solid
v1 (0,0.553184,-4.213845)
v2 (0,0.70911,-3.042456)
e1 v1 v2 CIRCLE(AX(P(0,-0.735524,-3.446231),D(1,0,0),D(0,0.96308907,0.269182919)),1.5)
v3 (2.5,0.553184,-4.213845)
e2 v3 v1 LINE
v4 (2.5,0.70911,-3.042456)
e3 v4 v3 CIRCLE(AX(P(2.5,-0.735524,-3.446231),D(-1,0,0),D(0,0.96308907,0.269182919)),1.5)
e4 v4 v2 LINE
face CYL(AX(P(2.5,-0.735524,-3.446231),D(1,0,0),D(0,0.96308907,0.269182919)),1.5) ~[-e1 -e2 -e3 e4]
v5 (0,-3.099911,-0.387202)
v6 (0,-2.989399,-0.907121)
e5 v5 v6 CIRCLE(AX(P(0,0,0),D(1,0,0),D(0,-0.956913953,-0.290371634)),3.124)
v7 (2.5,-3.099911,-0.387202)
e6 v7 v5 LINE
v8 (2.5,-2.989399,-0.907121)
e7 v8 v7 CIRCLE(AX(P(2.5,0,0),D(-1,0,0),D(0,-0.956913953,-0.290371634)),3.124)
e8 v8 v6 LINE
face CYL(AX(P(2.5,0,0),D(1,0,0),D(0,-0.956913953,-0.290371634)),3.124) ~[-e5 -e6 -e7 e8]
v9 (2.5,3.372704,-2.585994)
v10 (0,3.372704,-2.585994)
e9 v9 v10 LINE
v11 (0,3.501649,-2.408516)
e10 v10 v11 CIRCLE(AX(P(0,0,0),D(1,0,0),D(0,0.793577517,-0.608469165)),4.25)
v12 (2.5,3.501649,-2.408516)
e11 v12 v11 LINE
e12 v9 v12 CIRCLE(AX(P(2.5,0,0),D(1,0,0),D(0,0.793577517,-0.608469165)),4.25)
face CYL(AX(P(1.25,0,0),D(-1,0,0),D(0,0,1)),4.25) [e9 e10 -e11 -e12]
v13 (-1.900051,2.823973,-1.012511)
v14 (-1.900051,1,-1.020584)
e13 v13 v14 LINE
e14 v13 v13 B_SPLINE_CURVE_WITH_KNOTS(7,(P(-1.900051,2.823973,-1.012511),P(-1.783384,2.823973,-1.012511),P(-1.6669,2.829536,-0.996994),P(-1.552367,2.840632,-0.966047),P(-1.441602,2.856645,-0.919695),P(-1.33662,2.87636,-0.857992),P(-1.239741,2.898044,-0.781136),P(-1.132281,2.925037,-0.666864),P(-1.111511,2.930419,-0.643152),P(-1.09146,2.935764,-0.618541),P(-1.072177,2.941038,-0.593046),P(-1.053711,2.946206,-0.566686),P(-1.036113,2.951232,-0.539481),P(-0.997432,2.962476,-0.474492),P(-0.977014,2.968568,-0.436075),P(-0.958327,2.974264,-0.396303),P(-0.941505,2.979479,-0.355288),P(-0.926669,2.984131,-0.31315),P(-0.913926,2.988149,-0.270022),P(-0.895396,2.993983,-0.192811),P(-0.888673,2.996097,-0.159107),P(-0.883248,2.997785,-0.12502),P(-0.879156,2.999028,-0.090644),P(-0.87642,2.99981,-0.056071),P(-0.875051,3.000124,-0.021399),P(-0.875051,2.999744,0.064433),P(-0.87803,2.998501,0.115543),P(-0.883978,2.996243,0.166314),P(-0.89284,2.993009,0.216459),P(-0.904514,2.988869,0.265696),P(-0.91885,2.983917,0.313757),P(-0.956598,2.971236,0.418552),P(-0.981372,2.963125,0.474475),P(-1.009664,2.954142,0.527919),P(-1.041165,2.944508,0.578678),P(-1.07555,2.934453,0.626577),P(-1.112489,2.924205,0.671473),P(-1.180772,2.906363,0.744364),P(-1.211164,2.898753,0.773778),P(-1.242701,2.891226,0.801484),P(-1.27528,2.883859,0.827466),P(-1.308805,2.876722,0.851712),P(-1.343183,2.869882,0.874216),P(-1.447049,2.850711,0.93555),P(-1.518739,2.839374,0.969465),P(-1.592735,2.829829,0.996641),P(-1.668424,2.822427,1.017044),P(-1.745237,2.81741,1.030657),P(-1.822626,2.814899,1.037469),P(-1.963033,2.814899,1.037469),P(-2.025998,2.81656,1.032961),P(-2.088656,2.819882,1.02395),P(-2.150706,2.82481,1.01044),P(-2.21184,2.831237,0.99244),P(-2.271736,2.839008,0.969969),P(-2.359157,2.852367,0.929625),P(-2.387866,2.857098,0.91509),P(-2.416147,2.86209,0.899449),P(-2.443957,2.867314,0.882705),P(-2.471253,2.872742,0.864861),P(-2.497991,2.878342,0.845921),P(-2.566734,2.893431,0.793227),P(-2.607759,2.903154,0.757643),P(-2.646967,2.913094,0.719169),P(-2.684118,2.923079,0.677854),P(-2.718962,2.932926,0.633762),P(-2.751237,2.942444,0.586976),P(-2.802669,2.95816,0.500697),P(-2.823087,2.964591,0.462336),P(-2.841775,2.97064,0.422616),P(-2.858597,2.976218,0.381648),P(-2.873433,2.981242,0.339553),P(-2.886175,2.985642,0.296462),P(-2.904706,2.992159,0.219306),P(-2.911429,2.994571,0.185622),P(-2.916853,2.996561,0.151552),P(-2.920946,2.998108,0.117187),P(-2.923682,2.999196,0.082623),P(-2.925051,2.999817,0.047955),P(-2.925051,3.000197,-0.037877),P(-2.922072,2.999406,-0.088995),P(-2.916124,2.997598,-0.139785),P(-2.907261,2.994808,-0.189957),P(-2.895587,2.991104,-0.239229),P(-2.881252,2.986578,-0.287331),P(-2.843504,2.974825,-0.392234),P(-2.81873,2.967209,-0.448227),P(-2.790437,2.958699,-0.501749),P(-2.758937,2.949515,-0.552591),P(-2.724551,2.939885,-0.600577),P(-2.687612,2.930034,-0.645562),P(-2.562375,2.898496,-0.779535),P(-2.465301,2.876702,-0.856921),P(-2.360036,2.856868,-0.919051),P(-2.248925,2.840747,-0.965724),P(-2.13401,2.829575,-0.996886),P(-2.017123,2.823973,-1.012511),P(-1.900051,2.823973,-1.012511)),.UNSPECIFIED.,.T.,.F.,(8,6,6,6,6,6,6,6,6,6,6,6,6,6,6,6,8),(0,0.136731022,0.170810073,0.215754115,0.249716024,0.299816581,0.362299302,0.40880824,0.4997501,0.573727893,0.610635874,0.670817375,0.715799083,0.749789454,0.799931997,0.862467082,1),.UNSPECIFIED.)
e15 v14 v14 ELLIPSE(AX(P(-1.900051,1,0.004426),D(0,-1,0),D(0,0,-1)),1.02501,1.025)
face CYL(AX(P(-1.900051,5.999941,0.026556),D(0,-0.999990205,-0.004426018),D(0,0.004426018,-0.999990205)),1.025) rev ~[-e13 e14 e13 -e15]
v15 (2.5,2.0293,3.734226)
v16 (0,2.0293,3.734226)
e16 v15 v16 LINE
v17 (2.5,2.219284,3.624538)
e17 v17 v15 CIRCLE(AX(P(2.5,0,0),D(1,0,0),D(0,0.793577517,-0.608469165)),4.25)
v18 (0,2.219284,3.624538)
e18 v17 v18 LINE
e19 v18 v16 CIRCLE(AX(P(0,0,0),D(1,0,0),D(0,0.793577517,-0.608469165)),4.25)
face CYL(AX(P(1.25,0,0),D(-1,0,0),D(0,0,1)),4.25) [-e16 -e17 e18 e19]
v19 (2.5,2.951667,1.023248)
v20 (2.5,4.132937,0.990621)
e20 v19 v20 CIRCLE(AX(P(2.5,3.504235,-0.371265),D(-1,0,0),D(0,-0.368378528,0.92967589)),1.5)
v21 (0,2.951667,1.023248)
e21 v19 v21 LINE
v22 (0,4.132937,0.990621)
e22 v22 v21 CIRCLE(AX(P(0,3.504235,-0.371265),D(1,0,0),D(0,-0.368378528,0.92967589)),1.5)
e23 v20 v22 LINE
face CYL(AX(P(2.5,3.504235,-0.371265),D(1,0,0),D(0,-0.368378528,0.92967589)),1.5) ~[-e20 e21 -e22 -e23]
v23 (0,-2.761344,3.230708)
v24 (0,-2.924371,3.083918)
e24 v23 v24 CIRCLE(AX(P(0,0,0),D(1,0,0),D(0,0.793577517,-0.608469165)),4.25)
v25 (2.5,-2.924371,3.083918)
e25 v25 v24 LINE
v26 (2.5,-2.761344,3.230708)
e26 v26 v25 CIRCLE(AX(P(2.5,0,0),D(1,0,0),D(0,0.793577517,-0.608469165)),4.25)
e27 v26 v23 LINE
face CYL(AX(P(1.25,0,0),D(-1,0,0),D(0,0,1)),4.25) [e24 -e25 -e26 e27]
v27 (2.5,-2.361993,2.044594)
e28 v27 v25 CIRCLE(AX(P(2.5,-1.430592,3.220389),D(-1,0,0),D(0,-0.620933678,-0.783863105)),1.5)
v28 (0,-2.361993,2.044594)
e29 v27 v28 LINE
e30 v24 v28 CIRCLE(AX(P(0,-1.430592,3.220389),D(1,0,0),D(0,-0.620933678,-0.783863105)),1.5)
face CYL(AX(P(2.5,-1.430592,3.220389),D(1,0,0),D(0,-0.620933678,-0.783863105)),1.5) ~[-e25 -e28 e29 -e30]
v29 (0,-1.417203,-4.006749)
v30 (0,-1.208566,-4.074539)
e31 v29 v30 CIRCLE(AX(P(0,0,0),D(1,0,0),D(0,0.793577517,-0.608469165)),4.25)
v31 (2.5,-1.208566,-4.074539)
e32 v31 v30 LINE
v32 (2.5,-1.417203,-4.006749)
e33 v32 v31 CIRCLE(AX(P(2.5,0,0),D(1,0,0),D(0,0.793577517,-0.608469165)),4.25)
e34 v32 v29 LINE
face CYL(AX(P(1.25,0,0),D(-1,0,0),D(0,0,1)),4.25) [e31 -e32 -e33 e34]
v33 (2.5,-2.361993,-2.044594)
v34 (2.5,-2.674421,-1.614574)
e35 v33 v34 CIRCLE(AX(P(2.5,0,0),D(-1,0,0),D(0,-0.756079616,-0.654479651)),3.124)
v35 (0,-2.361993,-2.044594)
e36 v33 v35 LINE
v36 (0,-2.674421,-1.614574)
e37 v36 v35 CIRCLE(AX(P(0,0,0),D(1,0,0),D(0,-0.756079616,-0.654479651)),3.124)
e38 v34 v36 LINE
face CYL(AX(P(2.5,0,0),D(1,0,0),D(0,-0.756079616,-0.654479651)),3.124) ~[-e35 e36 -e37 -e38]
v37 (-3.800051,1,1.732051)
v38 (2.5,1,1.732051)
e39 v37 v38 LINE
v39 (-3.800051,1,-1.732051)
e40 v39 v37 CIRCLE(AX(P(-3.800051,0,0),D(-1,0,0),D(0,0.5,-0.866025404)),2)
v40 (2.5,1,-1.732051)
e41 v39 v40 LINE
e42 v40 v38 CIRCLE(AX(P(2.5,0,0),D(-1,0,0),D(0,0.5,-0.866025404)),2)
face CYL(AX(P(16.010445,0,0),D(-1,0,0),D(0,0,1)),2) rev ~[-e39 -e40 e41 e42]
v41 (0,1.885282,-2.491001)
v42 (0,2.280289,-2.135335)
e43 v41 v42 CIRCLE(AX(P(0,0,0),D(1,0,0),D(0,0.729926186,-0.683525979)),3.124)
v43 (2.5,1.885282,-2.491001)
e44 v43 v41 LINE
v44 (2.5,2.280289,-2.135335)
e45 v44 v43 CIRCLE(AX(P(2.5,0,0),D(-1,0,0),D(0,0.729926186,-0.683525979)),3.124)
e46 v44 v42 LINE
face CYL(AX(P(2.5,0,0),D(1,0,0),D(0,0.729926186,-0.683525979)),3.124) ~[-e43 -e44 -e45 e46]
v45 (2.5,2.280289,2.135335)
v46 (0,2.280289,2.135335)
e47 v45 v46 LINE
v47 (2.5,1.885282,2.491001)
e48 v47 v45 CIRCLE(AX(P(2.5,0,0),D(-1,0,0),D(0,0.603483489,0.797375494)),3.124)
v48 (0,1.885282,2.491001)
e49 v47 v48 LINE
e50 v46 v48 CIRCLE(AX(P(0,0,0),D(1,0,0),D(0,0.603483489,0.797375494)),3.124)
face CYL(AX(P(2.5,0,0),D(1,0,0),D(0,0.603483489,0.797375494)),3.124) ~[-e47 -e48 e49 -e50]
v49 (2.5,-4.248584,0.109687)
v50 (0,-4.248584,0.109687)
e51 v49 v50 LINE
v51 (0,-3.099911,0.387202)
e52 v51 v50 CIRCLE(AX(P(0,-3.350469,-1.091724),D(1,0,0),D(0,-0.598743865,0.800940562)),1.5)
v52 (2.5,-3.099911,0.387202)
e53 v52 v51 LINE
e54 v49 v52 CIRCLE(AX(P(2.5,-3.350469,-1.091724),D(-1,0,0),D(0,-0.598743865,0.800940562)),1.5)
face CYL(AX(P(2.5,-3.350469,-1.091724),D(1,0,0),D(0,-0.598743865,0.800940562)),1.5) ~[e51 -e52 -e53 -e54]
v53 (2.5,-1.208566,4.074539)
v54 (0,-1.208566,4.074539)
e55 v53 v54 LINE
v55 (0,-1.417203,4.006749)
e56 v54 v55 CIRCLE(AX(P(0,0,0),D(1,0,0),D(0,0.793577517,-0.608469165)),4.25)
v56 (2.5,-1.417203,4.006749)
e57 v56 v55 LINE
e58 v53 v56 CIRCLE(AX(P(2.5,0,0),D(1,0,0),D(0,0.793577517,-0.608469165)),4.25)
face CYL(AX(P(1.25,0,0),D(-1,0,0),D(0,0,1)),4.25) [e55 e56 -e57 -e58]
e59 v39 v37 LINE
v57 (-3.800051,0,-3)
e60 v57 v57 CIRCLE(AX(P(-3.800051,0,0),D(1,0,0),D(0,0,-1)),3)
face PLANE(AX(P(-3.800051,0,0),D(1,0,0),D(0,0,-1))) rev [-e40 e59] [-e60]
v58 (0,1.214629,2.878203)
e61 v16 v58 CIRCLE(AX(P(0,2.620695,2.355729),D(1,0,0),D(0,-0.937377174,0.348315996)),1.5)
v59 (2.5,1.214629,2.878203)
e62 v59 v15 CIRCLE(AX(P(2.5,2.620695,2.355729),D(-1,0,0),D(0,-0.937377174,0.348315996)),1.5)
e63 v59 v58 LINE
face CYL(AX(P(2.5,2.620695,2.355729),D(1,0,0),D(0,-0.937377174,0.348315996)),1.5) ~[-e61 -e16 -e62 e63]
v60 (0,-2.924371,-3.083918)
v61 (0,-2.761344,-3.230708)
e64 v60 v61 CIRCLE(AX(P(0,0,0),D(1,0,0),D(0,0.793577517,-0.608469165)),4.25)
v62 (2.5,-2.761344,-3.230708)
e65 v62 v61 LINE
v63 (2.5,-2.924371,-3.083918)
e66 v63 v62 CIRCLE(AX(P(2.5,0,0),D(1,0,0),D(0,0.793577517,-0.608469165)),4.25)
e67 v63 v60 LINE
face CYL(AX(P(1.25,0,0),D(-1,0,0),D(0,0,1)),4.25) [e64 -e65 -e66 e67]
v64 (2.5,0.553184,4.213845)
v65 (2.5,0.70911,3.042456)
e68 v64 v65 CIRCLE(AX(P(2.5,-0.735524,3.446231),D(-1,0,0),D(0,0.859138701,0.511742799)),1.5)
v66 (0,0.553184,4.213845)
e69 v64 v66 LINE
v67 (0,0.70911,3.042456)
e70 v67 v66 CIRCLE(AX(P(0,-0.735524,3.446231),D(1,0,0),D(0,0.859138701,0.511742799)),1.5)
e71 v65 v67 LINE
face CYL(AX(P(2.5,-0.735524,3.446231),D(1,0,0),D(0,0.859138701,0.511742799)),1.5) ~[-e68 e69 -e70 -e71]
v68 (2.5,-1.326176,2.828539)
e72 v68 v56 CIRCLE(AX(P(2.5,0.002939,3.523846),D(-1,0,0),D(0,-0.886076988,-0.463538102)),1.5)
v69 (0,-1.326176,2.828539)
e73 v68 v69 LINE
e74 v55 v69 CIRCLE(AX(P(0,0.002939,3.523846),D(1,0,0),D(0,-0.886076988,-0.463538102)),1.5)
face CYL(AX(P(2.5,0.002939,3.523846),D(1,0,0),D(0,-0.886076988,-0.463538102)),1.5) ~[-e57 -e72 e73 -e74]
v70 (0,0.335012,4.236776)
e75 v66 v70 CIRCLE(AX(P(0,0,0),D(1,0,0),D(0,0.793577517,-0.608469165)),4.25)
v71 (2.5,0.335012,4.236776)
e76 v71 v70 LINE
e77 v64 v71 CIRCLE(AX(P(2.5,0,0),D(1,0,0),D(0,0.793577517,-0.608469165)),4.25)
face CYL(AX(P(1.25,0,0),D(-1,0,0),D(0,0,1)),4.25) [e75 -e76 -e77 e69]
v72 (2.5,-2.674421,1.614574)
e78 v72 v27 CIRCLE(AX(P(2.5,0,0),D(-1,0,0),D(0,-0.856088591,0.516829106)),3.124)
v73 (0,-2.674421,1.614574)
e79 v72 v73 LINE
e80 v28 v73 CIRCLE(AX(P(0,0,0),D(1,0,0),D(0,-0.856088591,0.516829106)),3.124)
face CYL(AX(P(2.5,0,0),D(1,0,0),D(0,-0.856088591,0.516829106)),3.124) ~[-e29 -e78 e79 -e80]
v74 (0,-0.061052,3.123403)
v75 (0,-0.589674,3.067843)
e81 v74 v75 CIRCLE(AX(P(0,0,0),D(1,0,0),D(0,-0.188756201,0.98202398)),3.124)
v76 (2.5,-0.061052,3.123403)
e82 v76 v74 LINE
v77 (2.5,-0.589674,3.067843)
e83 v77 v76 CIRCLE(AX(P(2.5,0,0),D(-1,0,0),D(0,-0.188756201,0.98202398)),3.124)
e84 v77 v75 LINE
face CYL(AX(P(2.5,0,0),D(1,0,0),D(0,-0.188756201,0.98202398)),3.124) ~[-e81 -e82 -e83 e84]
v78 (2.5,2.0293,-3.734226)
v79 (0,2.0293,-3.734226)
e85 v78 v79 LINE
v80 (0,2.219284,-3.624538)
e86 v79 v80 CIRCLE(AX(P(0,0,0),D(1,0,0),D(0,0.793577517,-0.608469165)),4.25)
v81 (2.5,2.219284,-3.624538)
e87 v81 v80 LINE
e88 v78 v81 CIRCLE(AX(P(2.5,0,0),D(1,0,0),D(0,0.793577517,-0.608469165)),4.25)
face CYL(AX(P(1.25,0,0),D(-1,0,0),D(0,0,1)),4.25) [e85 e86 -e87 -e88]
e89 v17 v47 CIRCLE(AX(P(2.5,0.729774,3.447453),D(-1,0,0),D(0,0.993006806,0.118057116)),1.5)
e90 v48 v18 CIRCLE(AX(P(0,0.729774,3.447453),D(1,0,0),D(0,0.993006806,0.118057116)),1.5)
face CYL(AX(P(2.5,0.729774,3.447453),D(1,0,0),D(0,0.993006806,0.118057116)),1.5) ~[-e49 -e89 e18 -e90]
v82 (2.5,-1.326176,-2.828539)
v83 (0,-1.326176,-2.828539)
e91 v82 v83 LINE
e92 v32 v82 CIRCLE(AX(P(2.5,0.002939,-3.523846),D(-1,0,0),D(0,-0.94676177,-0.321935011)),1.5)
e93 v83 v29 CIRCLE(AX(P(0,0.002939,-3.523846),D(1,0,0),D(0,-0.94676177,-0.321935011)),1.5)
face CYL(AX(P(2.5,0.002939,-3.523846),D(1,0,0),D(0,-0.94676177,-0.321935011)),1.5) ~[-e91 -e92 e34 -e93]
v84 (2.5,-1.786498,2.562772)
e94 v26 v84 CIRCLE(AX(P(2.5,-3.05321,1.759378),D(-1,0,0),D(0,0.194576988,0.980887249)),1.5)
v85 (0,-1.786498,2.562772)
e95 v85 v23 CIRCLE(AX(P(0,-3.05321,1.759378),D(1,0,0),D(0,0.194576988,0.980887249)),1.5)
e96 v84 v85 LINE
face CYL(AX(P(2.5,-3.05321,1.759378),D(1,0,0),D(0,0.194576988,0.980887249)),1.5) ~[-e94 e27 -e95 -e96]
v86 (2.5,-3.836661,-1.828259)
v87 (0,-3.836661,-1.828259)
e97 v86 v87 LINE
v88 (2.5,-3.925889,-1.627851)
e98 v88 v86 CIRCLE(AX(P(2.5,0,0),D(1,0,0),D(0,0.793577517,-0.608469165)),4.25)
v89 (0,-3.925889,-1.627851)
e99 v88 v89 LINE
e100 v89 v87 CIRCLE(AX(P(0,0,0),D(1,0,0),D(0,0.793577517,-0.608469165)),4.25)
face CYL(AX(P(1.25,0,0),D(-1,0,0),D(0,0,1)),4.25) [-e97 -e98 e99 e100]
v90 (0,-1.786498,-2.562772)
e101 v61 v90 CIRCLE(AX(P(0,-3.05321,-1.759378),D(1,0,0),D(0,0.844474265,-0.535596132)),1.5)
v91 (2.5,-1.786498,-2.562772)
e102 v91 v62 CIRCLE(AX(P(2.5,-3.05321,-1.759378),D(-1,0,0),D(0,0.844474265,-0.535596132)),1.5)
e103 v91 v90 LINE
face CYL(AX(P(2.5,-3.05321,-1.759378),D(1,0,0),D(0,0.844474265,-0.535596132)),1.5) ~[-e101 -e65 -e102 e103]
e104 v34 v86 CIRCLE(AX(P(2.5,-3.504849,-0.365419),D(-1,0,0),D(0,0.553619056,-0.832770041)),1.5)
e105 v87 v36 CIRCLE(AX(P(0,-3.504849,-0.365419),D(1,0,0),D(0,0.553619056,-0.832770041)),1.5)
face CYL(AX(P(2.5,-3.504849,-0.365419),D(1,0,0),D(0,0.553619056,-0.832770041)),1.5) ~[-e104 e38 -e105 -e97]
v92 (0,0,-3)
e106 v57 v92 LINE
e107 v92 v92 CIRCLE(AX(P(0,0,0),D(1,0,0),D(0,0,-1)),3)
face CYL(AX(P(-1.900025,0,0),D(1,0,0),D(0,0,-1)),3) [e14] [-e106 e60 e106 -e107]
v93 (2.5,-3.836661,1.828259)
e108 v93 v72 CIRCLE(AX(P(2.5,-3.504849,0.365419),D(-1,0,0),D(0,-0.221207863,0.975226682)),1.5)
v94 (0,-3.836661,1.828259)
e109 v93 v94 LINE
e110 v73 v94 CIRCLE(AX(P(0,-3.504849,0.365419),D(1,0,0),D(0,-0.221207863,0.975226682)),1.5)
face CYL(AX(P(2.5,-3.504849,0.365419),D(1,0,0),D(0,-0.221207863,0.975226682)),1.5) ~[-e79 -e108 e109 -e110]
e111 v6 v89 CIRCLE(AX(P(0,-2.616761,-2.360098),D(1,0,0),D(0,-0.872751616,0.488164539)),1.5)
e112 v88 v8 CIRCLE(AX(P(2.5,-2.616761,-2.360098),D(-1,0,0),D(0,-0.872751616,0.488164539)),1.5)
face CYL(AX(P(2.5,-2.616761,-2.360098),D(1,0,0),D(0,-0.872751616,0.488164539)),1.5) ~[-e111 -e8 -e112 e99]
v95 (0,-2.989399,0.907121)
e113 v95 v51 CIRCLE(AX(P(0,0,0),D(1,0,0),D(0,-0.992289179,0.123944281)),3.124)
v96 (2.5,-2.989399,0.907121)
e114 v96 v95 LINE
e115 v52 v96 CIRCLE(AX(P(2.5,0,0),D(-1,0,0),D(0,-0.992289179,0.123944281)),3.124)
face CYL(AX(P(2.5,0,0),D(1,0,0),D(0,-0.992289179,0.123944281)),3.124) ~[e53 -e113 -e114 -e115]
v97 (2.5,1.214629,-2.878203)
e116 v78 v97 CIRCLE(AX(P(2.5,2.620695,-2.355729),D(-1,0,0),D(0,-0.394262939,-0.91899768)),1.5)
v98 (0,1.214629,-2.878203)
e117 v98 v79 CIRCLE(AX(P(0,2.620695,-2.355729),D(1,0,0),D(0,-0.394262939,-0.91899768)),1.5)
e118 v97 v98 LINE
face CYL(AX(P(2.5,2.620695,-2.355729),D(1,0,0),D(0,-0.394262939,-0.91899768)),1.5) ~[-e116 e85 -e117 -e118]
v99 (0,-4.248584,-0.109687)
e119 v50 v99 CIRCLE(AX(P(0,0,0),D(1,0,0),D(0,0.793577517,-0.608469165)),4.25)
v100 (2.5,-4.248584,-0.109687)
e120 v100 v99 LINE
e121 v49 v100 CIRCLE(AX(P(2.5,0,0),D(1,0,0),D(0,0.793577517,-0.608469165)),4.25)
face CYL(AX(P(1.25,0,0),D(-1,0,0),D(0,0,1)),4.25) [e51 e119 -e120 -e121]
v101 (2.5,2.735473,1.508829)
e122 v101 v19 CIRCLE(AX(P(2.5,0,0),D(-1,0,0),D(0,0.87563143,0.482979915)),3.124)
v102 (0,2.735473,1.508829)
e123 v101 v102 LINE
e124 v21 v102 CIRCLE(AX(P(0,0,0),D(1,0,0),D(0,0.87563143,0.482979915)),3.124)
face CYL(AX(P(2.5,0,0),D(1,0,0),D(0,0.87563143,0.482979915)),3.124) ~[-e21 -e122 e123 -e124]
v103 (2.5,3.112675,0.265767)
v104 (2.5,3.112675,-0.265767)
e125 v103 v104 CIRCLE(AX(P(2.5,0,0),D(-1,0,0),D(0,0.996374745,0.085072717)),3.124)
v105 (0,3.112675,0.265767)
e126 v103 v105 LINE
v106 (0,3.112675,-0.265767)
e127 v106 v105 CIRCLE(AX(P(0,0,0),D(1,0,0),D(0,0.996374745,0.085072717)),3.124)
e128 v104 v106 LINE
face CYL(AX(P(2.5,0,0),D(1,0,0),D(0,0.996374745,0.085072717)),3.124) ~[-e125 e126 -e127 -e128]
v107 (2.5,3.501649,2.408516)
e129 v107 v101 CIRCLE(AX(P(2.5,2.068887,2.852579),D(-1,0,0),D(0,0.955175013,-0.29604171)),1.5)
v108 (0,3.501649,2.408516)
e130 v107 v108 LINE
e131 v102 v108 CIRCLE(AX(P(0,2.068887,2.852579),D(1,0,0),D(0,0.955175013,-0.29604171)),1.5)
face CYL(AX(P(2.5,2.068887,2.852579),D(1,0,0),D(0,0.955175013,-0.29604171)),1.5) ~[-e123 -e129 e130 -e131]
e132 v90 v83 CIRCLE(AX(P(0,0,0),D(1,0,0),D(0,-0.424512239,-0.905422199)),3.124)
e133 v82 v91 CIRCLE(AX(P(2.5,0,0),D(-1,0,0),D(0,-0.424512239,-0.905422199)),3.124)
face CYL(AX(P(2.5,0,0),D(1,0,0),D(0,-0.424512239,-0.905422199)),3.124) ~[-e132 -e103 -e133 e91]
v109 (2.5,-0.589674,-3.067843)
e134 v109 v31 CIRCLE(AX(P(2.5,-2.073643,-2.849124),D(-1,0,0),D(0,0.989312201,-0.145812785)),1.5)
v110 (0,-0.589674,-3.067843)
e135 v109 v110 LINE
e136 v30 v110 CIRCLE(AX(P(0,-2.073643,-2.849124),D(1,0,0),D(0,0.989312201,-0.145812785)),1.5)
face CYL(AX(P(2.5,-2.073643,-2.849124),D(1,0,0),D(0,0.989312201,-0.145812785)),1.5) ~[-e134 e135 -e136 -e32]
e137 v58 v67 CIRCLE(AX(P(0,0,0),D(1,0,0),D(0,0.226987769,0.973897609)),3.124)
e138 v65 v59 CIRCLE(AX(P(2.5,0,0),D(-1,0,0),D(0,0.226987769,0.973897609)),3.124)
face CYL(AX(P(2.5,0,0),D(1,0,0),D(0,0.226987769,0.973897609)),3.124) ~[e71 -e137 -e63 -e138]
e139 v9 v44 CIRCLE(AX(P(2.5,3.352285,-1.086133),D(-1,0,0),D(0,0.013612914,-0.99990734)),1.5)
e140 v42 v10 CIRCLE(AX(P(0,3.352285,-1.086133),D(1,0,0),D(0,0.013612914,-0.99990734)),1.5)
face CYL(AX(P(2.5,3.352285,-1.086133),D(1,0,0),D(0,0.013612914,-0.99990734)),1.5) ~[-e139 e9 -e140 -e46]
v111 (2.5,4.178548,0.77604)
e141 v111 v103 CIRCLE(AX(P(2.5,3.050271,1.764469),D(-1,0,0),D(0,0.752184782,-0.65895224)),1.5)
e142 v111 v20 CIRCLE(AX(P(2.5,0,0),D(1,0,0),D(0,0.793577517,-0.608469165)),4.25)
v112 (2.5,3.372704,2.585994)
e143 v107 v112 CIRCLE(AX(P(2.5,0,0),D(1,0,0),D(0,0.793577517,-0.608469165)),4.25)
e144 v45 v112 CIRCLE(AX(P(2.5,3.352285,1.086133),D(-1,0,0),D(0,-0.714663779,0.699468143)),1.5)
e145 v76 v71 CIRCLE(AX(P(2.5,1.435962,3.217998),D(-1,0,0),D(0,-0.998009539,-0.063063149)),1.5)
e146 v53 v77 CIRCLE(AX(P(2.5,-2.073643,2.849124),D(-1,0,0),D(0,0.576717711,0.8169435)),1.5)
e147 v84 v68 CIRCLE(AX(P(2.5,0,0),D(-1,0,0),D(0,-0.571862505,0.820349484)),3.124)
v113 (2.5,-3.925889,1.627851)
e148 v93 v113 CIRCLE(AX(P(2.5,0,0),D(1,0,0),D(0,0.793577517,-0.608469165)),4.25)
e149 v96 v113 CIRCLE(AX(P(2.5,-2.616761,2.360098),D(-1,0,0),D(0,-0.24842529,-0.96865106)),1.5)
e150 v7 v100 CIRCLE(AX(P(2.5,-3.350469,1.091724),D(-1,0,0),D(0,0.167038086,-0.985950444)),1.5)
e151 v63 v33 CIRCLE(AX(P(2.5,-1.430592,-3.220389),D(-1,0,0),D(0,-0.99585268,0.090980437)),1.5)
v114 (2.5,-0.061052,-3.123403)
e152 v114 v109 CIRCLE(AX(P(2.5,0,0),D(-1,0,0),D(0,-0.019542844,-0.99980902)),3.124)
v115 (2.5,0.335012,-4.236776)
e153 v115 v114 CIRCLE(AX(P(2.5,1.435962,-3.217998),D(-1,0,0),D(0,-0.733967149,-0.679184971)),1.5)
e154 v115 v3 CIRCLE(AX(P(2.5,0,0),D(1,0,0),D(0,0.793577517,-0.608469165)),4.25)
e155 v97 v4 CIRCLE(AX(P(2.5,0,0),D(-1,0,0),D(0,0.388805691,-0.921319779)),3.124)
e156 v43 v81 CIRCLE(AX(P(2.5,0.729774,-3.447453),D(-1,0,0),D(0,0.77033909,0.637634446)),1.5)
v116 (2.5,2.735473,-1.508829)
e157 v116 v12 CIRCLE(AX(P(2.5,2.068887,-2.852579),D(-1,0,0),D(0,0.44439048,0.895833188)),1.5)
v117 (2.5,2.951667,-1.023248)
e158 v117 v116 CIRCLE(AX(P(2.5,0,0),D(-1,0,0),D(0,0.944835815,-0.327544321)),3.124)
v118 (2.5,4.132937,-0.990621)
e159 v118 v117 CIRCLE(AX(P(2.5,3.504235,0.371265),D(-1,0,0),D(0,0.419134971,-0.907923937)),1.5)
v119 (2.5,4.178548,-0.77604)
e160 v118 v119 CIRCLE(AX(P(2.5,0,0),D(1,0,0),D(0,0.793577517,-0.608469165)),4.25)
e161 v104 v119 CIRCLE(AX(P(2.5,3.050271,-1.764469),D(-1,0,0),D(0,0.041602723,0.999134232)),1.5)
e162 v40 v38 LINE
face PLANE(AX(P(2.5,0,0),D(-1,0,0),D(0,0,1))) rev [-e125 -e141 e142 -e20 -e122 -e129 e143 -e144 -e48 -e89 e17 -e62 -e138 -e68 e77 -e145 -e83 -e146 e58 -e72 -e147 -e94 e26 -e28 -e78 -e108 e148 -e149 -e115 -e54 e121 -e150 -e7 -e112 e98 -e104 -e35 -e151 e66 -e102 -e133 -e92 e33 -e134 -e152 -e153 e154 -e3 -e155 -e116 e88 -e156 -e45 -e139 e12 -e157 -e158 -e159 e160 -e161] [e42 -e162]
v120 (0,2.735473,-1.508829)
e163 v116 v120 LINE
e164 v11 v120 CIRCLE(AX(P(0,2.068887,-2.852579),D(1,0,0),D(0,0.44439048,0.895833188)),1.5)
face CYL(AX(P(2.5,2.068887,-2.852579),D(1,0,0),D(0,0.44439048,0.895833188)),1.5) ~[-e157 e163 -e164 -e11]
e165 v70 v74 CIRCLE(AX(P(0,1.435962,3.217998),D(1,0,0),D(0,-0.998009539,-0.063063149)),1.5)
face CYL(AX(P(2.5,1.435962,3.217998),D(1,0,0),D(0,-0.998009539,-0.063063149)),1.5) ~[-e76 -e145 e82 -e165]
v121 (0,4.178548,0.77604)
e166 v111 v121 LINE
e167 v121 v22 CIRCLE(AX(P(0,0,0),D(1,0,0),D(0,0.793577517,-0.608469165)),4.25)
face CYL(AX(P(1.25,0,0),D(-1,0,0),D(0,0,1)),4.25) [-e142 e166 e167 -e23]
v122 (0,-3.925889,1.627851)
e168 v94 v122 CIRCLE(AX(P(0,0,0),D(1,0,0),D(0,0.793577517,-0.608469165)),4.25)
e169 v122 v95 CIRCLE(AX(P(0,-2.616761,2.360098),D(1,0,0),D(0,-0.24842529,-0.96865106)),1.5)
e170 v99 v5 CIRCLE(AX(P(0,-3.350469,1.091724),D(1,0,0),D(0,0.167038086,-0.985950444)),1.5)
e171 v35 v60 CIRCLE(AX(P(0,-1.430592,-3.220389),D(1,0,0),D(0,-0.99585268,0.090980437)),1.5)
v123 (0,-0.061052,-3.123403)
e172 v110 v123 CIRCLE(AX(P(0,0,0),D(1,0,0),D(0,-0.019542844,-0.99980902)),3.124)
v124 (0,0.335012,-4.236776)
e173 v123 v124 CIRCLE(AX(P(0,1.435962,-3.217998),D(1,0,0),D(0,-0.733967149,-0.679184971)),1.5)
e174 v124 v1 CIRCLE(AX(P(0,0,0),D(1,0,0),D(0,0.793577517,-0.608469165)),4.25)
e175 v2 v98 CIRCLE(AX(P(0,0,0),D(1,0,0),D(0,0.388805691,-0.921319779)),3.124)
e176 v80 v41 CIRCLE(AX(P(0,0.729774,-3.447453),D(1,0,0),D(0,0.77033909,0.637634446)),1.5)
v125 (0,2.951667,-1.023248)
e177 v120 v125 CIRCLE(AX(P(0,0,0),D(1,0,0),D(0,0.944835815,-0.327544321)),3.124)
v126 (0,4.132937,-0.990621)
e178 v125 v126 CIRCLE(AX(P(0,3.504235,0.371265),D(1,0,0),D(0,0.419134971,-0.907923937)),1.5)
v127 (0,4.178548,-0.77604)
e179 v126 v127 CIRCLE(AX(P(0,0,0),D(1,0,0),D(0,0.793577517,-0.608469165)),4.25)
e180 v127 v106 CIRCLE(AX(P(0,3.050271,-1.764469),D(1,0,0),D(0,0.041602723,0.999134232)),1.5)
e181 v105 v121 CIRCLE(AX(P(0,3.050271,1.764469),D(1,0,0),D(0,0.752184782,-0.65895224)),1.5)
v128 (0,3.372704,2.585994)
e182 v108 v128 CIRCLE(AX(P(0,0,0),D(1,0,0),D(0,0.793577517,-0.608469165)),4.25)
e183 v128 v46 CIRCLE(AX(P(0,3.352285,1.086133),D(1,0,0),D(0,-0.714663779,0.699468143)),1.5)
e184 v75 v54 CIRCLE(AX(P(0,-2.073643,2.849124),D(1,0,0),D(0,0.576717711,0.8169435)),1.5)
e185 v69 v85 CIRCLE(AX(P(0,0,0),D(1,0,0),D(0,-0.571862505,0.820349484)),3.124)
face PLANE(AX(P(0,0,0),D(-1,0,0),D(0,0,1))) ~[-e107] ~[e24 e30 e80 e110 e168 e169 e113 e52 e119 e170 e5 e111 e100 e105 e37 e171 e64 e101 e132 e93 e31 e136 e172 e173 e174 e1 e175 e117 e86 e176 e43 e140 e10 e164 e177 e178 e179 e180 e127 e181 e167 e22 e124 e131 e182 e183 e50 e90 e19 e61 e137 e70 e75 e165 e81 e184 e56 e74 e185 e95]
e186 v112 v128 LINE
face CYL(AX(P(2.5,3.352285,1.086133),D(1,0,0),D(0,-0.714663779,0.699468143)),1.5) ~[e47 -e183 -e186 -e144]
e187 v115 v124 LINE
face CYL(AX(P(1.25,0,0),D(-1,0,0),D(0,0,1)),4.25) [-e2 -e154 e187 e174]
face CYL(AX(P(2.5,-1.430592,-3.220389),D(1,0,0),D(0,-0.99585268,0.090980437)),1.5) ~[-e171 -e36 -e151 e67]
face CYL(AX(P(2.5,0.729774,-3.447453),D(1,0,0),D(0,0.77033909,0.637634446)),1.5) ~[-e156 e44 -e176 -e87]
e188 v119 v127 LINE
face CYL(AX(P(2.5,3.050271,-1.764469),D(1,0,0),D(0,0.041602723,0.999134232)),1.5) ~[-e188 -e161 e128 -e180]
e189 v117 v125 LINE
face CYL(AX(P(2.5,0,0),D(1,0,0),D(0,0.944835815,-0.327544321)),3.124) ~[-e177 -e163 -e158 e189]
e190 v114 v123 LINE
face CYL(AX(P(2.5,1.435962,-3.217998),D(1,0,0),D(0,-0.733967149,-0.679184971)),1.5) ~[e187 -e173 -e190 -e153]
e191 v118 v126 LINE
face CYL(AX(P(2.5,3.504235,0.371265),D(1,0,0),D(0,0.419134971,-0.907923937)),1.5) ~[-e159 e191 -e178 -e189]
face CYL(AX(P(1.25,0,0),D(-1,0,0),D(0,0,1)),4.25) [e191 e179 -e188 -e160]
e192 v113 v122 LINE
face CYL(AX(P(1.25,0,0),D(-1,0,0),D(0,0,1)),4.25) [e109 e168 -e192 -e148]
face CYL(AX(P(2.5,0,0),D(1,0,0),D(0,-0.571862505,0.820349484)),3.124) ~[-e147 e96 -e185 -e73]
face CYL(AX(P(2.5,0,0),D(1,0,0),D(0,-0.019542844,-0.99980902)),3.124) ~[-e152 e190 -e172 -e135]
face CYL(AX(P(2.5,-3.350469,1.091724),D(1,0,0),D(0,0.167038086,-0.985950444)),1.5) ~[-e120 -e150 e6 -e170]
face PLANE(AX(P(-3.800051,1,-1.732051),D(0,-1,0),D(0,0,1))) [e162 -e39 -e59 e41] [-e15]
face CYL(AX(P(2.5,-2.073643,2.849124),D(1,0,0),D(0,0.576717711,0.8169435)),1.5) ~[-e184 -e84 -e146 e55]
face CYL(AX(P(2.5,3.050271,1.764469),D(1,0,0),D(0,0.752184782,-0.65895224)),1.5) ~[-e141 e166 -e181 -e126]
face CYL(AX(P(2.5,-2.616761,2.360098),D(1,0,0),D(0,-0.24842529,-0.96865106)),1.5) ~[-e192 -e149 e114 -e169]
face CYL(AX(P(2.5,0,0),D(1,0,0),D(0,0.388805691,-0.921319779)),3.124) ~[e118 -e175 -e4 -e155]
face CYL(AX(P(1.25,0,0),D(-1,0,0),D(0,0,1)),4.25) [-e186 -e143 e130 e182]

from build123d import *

# Parameters (mm, degrees)
SKETCH1_W                          = 2.5
SKETCH1_H                          = 4.25
CUT_EXTRUDE1_DEPTH                 = 7.509608283
CUT_EXTRUDE2_DEPTH                 = 7.509608283
CUT_EXTRUDE3_DEPTH                 = 7.509608283
CUT_EXTRUDE4_DEPTH                 = 7.509608283
CUT_EXTRUDE5_DEPTH                 = 7.509608283
CUT_EXTRUDE6_DEPTH                 = 7.509608283
CUT_EXTRUDE7_DEPTH                 = 7.509608283
CUT_EXTRUDE8_DEPTH                 = 7.509608283
CUT_EXTRUDE9_DEPTH                 = 7.509608283
CUT_EXTRUDE10_DEPTH                = 7.509608283
CUT_EXTRUDE11_DEPTH                = 7.500982013
CUT_EXTRUDE12_DEPTH                = 7.500982013
CUT_EXTRUDE13_DEPTH                = 7.500982013
CUT_EXTRUDE14_DEPTH                = 7.500982013
CUT_EXTRUDE15_DEPTH                = 7.500982013
SKETCH17_W                         = 3.8000508
SKETCH17_H                         = 3
F_4_0_4_DIAMETER_HOLE1_D           = 4
BOSS_EXTRUDE2_DEPTH                = 6.3000508
TAP_DRILL_FOR_M2_5X0_45_TAP1_D     = 2.05
TAP_DRILL_FOR_M2_5X0_45_TAP1_DEPTH = 3


with BuildPart() as part:
    # Sketch1 → Revolve1 (revolve)
    with BuildSketch(Plane(origin=(0, 0, 0), x_dir=(-1, 0, 0), z_dir=(0, 0, -1)), mode=Mode.PRIVATE) as revolve1_sk:
        with Locations((-1.25, 2.125)):
            Rectangle(SKETCH1_W, SKETCH1_H)
    revolve(revolve1_sk.sketch.rotate(Axis((2.5, 0, 0), (-1, 0, 0)), 270), axis=Axis((2.5, 0, 0), (-1, 0, 0)))

    # Sketch2 → Cut-Extrude1 (cut, through all)
    with BuildSketch(Plane(origin=(2.5, 0, 0), x_dir=(0, 0, -1), z_dir=(1, 0, 0))):
        with BuildLine():
            ThreePointArc((2.585993953, 3.372704445), (2.472774023, 2.780247912), (2.135335156, 2.280289405))
            ThreePointArc((2.135335156, 2.280289405), (2.321584435, 2.090364014), (2.491001044, 1.88528242))
            ThreePointArc((2.491001044, 1.88528242), (3.023492692, 2.168612866), (3.624538392, 2.219283994))
            ThreePointArc((3.624538392, 2.219283994), (3.158365508, 2.843805077), (2.585993953, 3.372704445))
        make_face()
    extrude(amount=-CUT_EXTRUDE1_DEPTH, mode=Mode.SUBTRACT)

    # Sketch3 → Cut-Extrude2 (cut, through all)
    with BuildSketch(Plane(origin=(2.5, 0, 0), x_dir=(0, 0, -1), z_dir=(1, 0, 0))):
        with BuildLine():
            ThreePointArc((3.734225512, 2.029300328), (3.389820178, 1.534115047), (2.87820299, 1.214628975))
            ThreePointArc((2.87820299, 1.214628975), (2.971100557, 0.96536909), (3.042456131, 0.709109787))
            ThreePointArc((3.042456131, 0.709109787), (3.644152332, 0.751361165), (4.213844705, 0.553184234))
            ThreePointArc((4.213844705, 0.553184234), (4.041990194, 1.313322226), (3.734225512, 2.029300328))
        make_face()
    extrude(amount=-CUT_EXTRUDE2_DEPTH, mode=Mode.SUBTRACT)

    # Sketch4 → Cut-Extrude3 (cut, through all)
    with BuildSketch(Plane(origin=(2.5, 0, 0), x_dir=(0, 0, -1), z_dir=(1, 0, 0))):
        with BuildLine():
            ThreePointArc((4.236775558, 0.335011746), (3.72073563, 0.022719752), (3.12340338, -0.061051839))
            ThreePointArc((3.12340338, -0.061051839), (3.106886401, -0.326546919), (3.067842913, -0.589674367))
            ThreePointArc((3.067842913, -0.589674367), (3.634704928, -0.795807707), (4.074538988, -1.208566106))
            ThreePointArc((4.074538988, -1.208566106), (4.226718055, -0.444245969), (4.236775558, 0.335011746))
        make_face()
    extrude(amount=-CUT_EXTRUDE3_DEPTH, mode=Mode.SUBTRACT)

    # Sketch5 → Cut-Extrude4 (cut, through all)
    with BuildSketch(Plane(origin=(2.5, 0, 0), x_dir=(0, 0, -1), z_dir=(1, 0, 0))):
        with BuildLine():
            ThreePointArc((4.00674862, -1.417203408), (3.40830209, -1.492603993), (2.82853895, -1.326176235))
            ThreePointArc((2.82853895, -1.326176235), (2.705463361, -1.562), (2.562771785, -1.786498468))
            ThreePointArc((2.562771785, -1.786498468), (2.996784021, -2.205374197), (3.230708464, -2.761344386))
            ThreePointArc((3.230708464, -2.761344386), (3.680607966, -2.124999999), (4.00674862, -1.417203408))
        make_face()
    extrude(amount=-CUT_EXTRUDE4_DEPTH, mode=Mode.SUBTRACT)

    # Sketch6 → Cut-Extrude5 (cut, through all)
    with BuildSketch(Plane(origin=(2.5, 0, 0), x_dir=(0, 0, -1), z_dir=(1, 0, 0))):
        with BuildLine():
            ThreePointArc((3.083918444, -2.92437122), (2.506542154, -2.749842949), (2.044594439, -2.361992714))
            ThreePointArc((2.044594439, -2.361992714), (1.836241128, -2.52736909), (1.614574134, -2.674420753))
            ThreePointArc((1.614574134, -2.674420753), (1.840691933, -3.233611452), (1.828259097, -3.836661137))
            ThreePointArc((1.828259097, -3.836661137), (2.498087322, -3.438322226), (3.083918444, -2.92437122))
        make_face()
    extrude(amount=-CUT_EXTRUDE5_DEPTH, mode=Mode.SUBTRACT)

    # Sketch7 → Cut-Extrude6 (cut, through all)
    with BuildSketch(Plane(origin=(2.5, 0, 0), x_dir=(0, 0, -1), z_dir=(1, 0, 0))):
        with BuildLine():
            ThreePointArc((1.627850754, -3.925888679), (1.17137831, -3.531609077), (0.907120976, -2.989399193))
            ThreePointArc((0.907120976, -2.989399193), (0.649516122, -3.055733105), (0.387201946, -3.099911394))
            ThreePointArc((0.387201946, -3.099911394), (0.366327487, -3.702727912), (0.109687121, -4.248584321))
            ThreePointArc((0.109687121, -4.248584321), (0.883624686, -4.157127303), (1.627850754, -3.925888679))
        make_face()
    extrude(amount=-CUT_EXTRUDE6_DEPTH, mode=Mode.SUBTRACT)

    # Sketch8 → Cut-Extrude7 (cut, through all)
    with BuildSketch(Plane(origin=(2.5, 0, 0), x_dir=(0, 0, -1), z_dir=(1, 0, 0))):
        with BuildLine():
            ThreePointArc((-0.109687122, -4.248584322), (-0.366327487, -3.702727912), (-0.387201947, -3.099911394))
            ThreePointArc((-0.387201947, -3.099911394), (-0.649516122, -3.055733105), (-0.907120975, -2.989399193))
            ThreePointArc((-0.907120975, -2.989399193), (-1.171378309, -3.531609077), (-1.627850753, -3.92588868))
            ThreePointArc((-1.627850753, -3.92588868), (-0.883624686, -4.157127304), (-0.109687122, -4.248584322))
        make_face()
    extrude(amount=-CUT_EXTRUDE7_DEPTH, mode=Mode.SUBTRACT)

    # Sketch9 → Cut-Extrude8 (cut, through all)
    with BuildSketch(Plane(origin=(2.5, 0, 0), x_dir=(0, 0, -1), z_dir=(1, 0, 0))):
        with BuildLine():
            ThreePointArc((-1.828259096, -3.836661137), (-1.840691932, -3.233611453), (-1.614574133, -2.674420754))
            ThreePointArc((-1.614574133, -2.674420754), (-1.836241128, -2.527369091), (-2.044594439, -2.361992714))
            ThreePointArc((-2.044594439, -2.361992714), (-2.506542155, -2.749842949), (-3.083918444, -2.92437122))
            ThreePointArc((-3.083918444, -2.92437122), (-2.498087322, -3.438322226), (-1.828259096, -3.836661137))
        make_face()
    extrude(amount=-CUT_EXTRUDE8_DEPTH, mode=Mode.SUBTRACT)

    # Sketch10 → Cut-Extrude9 (cut, through all)
    with BuildSketch(Plane(origin=(2.5, 0, 0), x_dir=(0, 0, -1), z_dir=(1, 0, 0))):
        with BuildLine():
            ThreePointArc((-3.230708464, -2.761344387), (-2.996784021, -2.205374197), (-2.562771785, -1.786498468))
            ThreePointArc((-2.562771785, -1.786498468), (-2.705463361, -1.562), (-2.82853895, -1.326176236))
            ThreePointArc((-2.82853895, -1.326176236), (-3.40830209, -1.492603994), (-4.006748619, -1.417203409))
            ThreePointArc((-4.006748619, -1.417203409), (-3.680607966, -2.125), (-3.230708464, -2.761344387))
        make_face()
    extrude(amount=-CUT_EXTRUDE9_DEPTH, mode=Mode.SUBTRACT)

    # Sketch11 → Cut-Extrude10 (cut, through all)
    with BuildSketch(Plane(origin=(2.5, 0, 0), x_dir=(0, 0, -1), z_dir=(1, 0, 0))):
        with BuildLine():
            ThreePointArc((-4.074538989, -1.208566105), (-3.634704928, -0.795807707), (-3.067842914, -0.589674368))
            ThreePointArc((-3.067842914, -0.589674368), (-3.106886402, -0.326546919), (-3.12340338, -0.061051839))
            ThreePointArc((-3.12340338, -0.061051839), (-3.720735631, 0.022719752), (-4.236775558, 0.335011747))
            ThreePointArc((-4.236775558, 0.335011747), (-4.226718056, -0.444245968), (-4.074538989, -1.208566105))
        make_face()
    extrude(amount=-CUT_EXTRUDE10_DEPTH, mode=Mode.SUBTRACT)

    # Sketch12 → Cut-Extrude11 (cut, through all)
    with BuildSketch(Plane(origin=(2.5, 0, 0), x_dir=(0, 0, -1), z_dir=(1, 0, 0))):
        with BuildLine():
            ThreePointArc((-4.213844706, 0.553184234), (-3.644152332, 0.751361165), (-3.042456131, 0.709109788))
            ThreePointArc((-3.042456131, 0.709109788), (-2.971100557, 0.96536909), (-2.87820299, 1.214628975))
            ThreePointArc((-2.87820299, 1.214628975), (-3.389820179, 1.534115046), (-3.734225513, 2.029300326))
            ThreePointArc((-3.734225513, 2.029300326), (-4.041990195, 1.313322226), (-4.213844706, 0.553184234))
        make_face()
    extrude(amount=-CUT_EXTRUDE11_DEPTH, mode=Mode.SUBTRACT)

    # Sketch13 → Cut-Extrude12 (cut, through all)
    with BuildSketch(Plane(origin=(2.5, 0, 0), x_dir=(0, 0, -1), z_dir=(1, 0, 0))):
        with BuildLine():
            ThreePointArc((-2.585993952, 3.372704446), (-3.158365508, 2.843805077), (-3.624538391, 2.219283994))
            ThreePointArc((-3.624538391, 2.219283994), (-3.023492692, 2.168612865), (-2.491001044, 1.885282419))
            ThreePointArc((-2.491001044, 1.885282419), (-2.321584435, 2.090364014), (-2.135335156, 2.280289405))
            ThreePointArc((-2.135335156, 2.280289405), (-2.472774022, 2.780247912), (-2.585993952, 3.372704446))
        make_face()
    extrude(amount=-CUT_EXTRUDE12_DEPTH, mode=Mode.SUBTRACT)

    # Sketch14 → Cut-Extrude13 (cut, through all)
    with BuildSketch(Plane(origin=(2.5, 0, 0), x_dir=(0, 0, -1), z_dir=(1, 0, 0))):
        with BuildLine():
            ThreePointArc((-0.990620545, 4.132937326), (-1.728630733, 3.882568195), (-2.408516462, 3.501649391))
            ThreePointArc((-2.408516462, 3.501649391), (-1.880043697, 3.210891701), (-1.508829246, 2.735472593))
            ThreePointArc((-1.508829246, 2.735472593), (-1.270645273, 2.85391601), (-1.023248474, 2.951667081))
            ThreePointArc((-1.023248474, 2.951667081), (-1.128162774, 3.545650656), (-0.990620545, 4.132937326))
        make_face()
    extrude(amount=-CUT_EXTRUDE13_DEPTH, mode=Mode.SUBTRACT)

    # Sketch15 → Cut-Extrude14 (cut, through all)
    with BuildSketch(Plane(origin=(2.5, 0, 0), x_dir=(0, 0, -1), z_dir=(1, 0, 0))):
        with BuildLine():
            ThreePointArc((-0.776040155, 4.178547795), (-0.411518069, 3.69797819), (-0.265767165, 3.112674704))
            ThreePointArc((-0.265767165, 3.112674704), (0, 3.124), (0.265767165, 3.112674704))
            ThreePointArc((0.265767165, 3.112674704), (0.411518069, 3.69797819), (0.776040156, 4.178547795))
            ThreePointArc((0.776040156, 4.178547795), (0, 4.25), (-0.776040155, 4.178547795))
        make_face()
    extrude(amount=-CUT_EXTRUDE14_DEPTH, mode=Mode.SUBTRACT)

    # Sketch16 → Cut-Extrude15 (cut, through all)
    with BuildSketch(Plane(origin=(2.5, 0, 0), x_dir=(0, 0, -1), z_dir=(1, 0, 0))):
        with BuildLine():
            ThreePointArc((0.990620545, 4.132937326), (1.128162774, 3.545650656), (1.023248474, 2.951667081))
            ThreePointArc((1.023248474, 2.951667081), (1.270645273, 2.85391601), (1.508829246, 2.735472593))
            ThreePointArc((1.508829246, 2.735472593), (1.880043697, 3.210891701), (2.408516462, 3.50164939))
            ThreePointArc((2.408516462, 3.50164939), (1.728630733, 3.882568195), (0.990620545, 4.132937326))
        make_face()
    extrude(amount=-CUT_EXTRUDE15_DEPTH, mode=Mode.SUBTRACT)

    # Sketch17 → Revolve2 (revolve)
    with BuildSketch(Plane.XY, mode=Mode.PRIVATE) as revolve2_sk:
        with Locations((-1.9000254, 1.5)):
            Rectangle(SKETCH17_W, SKETCH17_H)
    revolve(revolve2_sk.sketch.rotate(Axis((-3.8000508, 0, 0), (1, 0, 0)), 270), axis=Axis((-3.8000508, 0, 0), (1, 0, 0)))

    # Ø4.0 (4) Diameter Hole1 (through all)
    with Locations(Plane(origin=(2.5, 0, 0), x_dir=(0, 0, -1), z_dir=(1, 0, 0))):
        with Locations((0, 0)):
            Hole(F_4_0_4_DIAMETER_HOLE1_D / 2)

    # Sketch21 → Boss-Extrude2 (add)
    with BuildSketch(Plane.ZY.offset(3.8000508)):
        with BuildLine():
            Line((-1.732050808, 1), (1.732050808, 1))
            ThreePointArc((1.732050808, 1), (0, 2), (-1.732050808, 1))
        make_face()
    extrude(amount=-BOSS_EXTRUDE2_DEPTH)

    # Tap Drill for M2.5x0.45 Tap1
    with Locations(Plane(origin=(-1.9000508, 2.999970615, 0.013278053), x_dir=(0, -0.004426017667, 0.999990205136), z_dir=(0, 0.999990205136, 0.004426017667))):
        with Locations((0, 0)):
            Hole(TAP_DRILL_FOR_M2_5X0_45_TAP1_D / 2, depth=TAP_DRILL_FOR_M2_5X0_45_TAP1_DEPTH)


solid = part.part
